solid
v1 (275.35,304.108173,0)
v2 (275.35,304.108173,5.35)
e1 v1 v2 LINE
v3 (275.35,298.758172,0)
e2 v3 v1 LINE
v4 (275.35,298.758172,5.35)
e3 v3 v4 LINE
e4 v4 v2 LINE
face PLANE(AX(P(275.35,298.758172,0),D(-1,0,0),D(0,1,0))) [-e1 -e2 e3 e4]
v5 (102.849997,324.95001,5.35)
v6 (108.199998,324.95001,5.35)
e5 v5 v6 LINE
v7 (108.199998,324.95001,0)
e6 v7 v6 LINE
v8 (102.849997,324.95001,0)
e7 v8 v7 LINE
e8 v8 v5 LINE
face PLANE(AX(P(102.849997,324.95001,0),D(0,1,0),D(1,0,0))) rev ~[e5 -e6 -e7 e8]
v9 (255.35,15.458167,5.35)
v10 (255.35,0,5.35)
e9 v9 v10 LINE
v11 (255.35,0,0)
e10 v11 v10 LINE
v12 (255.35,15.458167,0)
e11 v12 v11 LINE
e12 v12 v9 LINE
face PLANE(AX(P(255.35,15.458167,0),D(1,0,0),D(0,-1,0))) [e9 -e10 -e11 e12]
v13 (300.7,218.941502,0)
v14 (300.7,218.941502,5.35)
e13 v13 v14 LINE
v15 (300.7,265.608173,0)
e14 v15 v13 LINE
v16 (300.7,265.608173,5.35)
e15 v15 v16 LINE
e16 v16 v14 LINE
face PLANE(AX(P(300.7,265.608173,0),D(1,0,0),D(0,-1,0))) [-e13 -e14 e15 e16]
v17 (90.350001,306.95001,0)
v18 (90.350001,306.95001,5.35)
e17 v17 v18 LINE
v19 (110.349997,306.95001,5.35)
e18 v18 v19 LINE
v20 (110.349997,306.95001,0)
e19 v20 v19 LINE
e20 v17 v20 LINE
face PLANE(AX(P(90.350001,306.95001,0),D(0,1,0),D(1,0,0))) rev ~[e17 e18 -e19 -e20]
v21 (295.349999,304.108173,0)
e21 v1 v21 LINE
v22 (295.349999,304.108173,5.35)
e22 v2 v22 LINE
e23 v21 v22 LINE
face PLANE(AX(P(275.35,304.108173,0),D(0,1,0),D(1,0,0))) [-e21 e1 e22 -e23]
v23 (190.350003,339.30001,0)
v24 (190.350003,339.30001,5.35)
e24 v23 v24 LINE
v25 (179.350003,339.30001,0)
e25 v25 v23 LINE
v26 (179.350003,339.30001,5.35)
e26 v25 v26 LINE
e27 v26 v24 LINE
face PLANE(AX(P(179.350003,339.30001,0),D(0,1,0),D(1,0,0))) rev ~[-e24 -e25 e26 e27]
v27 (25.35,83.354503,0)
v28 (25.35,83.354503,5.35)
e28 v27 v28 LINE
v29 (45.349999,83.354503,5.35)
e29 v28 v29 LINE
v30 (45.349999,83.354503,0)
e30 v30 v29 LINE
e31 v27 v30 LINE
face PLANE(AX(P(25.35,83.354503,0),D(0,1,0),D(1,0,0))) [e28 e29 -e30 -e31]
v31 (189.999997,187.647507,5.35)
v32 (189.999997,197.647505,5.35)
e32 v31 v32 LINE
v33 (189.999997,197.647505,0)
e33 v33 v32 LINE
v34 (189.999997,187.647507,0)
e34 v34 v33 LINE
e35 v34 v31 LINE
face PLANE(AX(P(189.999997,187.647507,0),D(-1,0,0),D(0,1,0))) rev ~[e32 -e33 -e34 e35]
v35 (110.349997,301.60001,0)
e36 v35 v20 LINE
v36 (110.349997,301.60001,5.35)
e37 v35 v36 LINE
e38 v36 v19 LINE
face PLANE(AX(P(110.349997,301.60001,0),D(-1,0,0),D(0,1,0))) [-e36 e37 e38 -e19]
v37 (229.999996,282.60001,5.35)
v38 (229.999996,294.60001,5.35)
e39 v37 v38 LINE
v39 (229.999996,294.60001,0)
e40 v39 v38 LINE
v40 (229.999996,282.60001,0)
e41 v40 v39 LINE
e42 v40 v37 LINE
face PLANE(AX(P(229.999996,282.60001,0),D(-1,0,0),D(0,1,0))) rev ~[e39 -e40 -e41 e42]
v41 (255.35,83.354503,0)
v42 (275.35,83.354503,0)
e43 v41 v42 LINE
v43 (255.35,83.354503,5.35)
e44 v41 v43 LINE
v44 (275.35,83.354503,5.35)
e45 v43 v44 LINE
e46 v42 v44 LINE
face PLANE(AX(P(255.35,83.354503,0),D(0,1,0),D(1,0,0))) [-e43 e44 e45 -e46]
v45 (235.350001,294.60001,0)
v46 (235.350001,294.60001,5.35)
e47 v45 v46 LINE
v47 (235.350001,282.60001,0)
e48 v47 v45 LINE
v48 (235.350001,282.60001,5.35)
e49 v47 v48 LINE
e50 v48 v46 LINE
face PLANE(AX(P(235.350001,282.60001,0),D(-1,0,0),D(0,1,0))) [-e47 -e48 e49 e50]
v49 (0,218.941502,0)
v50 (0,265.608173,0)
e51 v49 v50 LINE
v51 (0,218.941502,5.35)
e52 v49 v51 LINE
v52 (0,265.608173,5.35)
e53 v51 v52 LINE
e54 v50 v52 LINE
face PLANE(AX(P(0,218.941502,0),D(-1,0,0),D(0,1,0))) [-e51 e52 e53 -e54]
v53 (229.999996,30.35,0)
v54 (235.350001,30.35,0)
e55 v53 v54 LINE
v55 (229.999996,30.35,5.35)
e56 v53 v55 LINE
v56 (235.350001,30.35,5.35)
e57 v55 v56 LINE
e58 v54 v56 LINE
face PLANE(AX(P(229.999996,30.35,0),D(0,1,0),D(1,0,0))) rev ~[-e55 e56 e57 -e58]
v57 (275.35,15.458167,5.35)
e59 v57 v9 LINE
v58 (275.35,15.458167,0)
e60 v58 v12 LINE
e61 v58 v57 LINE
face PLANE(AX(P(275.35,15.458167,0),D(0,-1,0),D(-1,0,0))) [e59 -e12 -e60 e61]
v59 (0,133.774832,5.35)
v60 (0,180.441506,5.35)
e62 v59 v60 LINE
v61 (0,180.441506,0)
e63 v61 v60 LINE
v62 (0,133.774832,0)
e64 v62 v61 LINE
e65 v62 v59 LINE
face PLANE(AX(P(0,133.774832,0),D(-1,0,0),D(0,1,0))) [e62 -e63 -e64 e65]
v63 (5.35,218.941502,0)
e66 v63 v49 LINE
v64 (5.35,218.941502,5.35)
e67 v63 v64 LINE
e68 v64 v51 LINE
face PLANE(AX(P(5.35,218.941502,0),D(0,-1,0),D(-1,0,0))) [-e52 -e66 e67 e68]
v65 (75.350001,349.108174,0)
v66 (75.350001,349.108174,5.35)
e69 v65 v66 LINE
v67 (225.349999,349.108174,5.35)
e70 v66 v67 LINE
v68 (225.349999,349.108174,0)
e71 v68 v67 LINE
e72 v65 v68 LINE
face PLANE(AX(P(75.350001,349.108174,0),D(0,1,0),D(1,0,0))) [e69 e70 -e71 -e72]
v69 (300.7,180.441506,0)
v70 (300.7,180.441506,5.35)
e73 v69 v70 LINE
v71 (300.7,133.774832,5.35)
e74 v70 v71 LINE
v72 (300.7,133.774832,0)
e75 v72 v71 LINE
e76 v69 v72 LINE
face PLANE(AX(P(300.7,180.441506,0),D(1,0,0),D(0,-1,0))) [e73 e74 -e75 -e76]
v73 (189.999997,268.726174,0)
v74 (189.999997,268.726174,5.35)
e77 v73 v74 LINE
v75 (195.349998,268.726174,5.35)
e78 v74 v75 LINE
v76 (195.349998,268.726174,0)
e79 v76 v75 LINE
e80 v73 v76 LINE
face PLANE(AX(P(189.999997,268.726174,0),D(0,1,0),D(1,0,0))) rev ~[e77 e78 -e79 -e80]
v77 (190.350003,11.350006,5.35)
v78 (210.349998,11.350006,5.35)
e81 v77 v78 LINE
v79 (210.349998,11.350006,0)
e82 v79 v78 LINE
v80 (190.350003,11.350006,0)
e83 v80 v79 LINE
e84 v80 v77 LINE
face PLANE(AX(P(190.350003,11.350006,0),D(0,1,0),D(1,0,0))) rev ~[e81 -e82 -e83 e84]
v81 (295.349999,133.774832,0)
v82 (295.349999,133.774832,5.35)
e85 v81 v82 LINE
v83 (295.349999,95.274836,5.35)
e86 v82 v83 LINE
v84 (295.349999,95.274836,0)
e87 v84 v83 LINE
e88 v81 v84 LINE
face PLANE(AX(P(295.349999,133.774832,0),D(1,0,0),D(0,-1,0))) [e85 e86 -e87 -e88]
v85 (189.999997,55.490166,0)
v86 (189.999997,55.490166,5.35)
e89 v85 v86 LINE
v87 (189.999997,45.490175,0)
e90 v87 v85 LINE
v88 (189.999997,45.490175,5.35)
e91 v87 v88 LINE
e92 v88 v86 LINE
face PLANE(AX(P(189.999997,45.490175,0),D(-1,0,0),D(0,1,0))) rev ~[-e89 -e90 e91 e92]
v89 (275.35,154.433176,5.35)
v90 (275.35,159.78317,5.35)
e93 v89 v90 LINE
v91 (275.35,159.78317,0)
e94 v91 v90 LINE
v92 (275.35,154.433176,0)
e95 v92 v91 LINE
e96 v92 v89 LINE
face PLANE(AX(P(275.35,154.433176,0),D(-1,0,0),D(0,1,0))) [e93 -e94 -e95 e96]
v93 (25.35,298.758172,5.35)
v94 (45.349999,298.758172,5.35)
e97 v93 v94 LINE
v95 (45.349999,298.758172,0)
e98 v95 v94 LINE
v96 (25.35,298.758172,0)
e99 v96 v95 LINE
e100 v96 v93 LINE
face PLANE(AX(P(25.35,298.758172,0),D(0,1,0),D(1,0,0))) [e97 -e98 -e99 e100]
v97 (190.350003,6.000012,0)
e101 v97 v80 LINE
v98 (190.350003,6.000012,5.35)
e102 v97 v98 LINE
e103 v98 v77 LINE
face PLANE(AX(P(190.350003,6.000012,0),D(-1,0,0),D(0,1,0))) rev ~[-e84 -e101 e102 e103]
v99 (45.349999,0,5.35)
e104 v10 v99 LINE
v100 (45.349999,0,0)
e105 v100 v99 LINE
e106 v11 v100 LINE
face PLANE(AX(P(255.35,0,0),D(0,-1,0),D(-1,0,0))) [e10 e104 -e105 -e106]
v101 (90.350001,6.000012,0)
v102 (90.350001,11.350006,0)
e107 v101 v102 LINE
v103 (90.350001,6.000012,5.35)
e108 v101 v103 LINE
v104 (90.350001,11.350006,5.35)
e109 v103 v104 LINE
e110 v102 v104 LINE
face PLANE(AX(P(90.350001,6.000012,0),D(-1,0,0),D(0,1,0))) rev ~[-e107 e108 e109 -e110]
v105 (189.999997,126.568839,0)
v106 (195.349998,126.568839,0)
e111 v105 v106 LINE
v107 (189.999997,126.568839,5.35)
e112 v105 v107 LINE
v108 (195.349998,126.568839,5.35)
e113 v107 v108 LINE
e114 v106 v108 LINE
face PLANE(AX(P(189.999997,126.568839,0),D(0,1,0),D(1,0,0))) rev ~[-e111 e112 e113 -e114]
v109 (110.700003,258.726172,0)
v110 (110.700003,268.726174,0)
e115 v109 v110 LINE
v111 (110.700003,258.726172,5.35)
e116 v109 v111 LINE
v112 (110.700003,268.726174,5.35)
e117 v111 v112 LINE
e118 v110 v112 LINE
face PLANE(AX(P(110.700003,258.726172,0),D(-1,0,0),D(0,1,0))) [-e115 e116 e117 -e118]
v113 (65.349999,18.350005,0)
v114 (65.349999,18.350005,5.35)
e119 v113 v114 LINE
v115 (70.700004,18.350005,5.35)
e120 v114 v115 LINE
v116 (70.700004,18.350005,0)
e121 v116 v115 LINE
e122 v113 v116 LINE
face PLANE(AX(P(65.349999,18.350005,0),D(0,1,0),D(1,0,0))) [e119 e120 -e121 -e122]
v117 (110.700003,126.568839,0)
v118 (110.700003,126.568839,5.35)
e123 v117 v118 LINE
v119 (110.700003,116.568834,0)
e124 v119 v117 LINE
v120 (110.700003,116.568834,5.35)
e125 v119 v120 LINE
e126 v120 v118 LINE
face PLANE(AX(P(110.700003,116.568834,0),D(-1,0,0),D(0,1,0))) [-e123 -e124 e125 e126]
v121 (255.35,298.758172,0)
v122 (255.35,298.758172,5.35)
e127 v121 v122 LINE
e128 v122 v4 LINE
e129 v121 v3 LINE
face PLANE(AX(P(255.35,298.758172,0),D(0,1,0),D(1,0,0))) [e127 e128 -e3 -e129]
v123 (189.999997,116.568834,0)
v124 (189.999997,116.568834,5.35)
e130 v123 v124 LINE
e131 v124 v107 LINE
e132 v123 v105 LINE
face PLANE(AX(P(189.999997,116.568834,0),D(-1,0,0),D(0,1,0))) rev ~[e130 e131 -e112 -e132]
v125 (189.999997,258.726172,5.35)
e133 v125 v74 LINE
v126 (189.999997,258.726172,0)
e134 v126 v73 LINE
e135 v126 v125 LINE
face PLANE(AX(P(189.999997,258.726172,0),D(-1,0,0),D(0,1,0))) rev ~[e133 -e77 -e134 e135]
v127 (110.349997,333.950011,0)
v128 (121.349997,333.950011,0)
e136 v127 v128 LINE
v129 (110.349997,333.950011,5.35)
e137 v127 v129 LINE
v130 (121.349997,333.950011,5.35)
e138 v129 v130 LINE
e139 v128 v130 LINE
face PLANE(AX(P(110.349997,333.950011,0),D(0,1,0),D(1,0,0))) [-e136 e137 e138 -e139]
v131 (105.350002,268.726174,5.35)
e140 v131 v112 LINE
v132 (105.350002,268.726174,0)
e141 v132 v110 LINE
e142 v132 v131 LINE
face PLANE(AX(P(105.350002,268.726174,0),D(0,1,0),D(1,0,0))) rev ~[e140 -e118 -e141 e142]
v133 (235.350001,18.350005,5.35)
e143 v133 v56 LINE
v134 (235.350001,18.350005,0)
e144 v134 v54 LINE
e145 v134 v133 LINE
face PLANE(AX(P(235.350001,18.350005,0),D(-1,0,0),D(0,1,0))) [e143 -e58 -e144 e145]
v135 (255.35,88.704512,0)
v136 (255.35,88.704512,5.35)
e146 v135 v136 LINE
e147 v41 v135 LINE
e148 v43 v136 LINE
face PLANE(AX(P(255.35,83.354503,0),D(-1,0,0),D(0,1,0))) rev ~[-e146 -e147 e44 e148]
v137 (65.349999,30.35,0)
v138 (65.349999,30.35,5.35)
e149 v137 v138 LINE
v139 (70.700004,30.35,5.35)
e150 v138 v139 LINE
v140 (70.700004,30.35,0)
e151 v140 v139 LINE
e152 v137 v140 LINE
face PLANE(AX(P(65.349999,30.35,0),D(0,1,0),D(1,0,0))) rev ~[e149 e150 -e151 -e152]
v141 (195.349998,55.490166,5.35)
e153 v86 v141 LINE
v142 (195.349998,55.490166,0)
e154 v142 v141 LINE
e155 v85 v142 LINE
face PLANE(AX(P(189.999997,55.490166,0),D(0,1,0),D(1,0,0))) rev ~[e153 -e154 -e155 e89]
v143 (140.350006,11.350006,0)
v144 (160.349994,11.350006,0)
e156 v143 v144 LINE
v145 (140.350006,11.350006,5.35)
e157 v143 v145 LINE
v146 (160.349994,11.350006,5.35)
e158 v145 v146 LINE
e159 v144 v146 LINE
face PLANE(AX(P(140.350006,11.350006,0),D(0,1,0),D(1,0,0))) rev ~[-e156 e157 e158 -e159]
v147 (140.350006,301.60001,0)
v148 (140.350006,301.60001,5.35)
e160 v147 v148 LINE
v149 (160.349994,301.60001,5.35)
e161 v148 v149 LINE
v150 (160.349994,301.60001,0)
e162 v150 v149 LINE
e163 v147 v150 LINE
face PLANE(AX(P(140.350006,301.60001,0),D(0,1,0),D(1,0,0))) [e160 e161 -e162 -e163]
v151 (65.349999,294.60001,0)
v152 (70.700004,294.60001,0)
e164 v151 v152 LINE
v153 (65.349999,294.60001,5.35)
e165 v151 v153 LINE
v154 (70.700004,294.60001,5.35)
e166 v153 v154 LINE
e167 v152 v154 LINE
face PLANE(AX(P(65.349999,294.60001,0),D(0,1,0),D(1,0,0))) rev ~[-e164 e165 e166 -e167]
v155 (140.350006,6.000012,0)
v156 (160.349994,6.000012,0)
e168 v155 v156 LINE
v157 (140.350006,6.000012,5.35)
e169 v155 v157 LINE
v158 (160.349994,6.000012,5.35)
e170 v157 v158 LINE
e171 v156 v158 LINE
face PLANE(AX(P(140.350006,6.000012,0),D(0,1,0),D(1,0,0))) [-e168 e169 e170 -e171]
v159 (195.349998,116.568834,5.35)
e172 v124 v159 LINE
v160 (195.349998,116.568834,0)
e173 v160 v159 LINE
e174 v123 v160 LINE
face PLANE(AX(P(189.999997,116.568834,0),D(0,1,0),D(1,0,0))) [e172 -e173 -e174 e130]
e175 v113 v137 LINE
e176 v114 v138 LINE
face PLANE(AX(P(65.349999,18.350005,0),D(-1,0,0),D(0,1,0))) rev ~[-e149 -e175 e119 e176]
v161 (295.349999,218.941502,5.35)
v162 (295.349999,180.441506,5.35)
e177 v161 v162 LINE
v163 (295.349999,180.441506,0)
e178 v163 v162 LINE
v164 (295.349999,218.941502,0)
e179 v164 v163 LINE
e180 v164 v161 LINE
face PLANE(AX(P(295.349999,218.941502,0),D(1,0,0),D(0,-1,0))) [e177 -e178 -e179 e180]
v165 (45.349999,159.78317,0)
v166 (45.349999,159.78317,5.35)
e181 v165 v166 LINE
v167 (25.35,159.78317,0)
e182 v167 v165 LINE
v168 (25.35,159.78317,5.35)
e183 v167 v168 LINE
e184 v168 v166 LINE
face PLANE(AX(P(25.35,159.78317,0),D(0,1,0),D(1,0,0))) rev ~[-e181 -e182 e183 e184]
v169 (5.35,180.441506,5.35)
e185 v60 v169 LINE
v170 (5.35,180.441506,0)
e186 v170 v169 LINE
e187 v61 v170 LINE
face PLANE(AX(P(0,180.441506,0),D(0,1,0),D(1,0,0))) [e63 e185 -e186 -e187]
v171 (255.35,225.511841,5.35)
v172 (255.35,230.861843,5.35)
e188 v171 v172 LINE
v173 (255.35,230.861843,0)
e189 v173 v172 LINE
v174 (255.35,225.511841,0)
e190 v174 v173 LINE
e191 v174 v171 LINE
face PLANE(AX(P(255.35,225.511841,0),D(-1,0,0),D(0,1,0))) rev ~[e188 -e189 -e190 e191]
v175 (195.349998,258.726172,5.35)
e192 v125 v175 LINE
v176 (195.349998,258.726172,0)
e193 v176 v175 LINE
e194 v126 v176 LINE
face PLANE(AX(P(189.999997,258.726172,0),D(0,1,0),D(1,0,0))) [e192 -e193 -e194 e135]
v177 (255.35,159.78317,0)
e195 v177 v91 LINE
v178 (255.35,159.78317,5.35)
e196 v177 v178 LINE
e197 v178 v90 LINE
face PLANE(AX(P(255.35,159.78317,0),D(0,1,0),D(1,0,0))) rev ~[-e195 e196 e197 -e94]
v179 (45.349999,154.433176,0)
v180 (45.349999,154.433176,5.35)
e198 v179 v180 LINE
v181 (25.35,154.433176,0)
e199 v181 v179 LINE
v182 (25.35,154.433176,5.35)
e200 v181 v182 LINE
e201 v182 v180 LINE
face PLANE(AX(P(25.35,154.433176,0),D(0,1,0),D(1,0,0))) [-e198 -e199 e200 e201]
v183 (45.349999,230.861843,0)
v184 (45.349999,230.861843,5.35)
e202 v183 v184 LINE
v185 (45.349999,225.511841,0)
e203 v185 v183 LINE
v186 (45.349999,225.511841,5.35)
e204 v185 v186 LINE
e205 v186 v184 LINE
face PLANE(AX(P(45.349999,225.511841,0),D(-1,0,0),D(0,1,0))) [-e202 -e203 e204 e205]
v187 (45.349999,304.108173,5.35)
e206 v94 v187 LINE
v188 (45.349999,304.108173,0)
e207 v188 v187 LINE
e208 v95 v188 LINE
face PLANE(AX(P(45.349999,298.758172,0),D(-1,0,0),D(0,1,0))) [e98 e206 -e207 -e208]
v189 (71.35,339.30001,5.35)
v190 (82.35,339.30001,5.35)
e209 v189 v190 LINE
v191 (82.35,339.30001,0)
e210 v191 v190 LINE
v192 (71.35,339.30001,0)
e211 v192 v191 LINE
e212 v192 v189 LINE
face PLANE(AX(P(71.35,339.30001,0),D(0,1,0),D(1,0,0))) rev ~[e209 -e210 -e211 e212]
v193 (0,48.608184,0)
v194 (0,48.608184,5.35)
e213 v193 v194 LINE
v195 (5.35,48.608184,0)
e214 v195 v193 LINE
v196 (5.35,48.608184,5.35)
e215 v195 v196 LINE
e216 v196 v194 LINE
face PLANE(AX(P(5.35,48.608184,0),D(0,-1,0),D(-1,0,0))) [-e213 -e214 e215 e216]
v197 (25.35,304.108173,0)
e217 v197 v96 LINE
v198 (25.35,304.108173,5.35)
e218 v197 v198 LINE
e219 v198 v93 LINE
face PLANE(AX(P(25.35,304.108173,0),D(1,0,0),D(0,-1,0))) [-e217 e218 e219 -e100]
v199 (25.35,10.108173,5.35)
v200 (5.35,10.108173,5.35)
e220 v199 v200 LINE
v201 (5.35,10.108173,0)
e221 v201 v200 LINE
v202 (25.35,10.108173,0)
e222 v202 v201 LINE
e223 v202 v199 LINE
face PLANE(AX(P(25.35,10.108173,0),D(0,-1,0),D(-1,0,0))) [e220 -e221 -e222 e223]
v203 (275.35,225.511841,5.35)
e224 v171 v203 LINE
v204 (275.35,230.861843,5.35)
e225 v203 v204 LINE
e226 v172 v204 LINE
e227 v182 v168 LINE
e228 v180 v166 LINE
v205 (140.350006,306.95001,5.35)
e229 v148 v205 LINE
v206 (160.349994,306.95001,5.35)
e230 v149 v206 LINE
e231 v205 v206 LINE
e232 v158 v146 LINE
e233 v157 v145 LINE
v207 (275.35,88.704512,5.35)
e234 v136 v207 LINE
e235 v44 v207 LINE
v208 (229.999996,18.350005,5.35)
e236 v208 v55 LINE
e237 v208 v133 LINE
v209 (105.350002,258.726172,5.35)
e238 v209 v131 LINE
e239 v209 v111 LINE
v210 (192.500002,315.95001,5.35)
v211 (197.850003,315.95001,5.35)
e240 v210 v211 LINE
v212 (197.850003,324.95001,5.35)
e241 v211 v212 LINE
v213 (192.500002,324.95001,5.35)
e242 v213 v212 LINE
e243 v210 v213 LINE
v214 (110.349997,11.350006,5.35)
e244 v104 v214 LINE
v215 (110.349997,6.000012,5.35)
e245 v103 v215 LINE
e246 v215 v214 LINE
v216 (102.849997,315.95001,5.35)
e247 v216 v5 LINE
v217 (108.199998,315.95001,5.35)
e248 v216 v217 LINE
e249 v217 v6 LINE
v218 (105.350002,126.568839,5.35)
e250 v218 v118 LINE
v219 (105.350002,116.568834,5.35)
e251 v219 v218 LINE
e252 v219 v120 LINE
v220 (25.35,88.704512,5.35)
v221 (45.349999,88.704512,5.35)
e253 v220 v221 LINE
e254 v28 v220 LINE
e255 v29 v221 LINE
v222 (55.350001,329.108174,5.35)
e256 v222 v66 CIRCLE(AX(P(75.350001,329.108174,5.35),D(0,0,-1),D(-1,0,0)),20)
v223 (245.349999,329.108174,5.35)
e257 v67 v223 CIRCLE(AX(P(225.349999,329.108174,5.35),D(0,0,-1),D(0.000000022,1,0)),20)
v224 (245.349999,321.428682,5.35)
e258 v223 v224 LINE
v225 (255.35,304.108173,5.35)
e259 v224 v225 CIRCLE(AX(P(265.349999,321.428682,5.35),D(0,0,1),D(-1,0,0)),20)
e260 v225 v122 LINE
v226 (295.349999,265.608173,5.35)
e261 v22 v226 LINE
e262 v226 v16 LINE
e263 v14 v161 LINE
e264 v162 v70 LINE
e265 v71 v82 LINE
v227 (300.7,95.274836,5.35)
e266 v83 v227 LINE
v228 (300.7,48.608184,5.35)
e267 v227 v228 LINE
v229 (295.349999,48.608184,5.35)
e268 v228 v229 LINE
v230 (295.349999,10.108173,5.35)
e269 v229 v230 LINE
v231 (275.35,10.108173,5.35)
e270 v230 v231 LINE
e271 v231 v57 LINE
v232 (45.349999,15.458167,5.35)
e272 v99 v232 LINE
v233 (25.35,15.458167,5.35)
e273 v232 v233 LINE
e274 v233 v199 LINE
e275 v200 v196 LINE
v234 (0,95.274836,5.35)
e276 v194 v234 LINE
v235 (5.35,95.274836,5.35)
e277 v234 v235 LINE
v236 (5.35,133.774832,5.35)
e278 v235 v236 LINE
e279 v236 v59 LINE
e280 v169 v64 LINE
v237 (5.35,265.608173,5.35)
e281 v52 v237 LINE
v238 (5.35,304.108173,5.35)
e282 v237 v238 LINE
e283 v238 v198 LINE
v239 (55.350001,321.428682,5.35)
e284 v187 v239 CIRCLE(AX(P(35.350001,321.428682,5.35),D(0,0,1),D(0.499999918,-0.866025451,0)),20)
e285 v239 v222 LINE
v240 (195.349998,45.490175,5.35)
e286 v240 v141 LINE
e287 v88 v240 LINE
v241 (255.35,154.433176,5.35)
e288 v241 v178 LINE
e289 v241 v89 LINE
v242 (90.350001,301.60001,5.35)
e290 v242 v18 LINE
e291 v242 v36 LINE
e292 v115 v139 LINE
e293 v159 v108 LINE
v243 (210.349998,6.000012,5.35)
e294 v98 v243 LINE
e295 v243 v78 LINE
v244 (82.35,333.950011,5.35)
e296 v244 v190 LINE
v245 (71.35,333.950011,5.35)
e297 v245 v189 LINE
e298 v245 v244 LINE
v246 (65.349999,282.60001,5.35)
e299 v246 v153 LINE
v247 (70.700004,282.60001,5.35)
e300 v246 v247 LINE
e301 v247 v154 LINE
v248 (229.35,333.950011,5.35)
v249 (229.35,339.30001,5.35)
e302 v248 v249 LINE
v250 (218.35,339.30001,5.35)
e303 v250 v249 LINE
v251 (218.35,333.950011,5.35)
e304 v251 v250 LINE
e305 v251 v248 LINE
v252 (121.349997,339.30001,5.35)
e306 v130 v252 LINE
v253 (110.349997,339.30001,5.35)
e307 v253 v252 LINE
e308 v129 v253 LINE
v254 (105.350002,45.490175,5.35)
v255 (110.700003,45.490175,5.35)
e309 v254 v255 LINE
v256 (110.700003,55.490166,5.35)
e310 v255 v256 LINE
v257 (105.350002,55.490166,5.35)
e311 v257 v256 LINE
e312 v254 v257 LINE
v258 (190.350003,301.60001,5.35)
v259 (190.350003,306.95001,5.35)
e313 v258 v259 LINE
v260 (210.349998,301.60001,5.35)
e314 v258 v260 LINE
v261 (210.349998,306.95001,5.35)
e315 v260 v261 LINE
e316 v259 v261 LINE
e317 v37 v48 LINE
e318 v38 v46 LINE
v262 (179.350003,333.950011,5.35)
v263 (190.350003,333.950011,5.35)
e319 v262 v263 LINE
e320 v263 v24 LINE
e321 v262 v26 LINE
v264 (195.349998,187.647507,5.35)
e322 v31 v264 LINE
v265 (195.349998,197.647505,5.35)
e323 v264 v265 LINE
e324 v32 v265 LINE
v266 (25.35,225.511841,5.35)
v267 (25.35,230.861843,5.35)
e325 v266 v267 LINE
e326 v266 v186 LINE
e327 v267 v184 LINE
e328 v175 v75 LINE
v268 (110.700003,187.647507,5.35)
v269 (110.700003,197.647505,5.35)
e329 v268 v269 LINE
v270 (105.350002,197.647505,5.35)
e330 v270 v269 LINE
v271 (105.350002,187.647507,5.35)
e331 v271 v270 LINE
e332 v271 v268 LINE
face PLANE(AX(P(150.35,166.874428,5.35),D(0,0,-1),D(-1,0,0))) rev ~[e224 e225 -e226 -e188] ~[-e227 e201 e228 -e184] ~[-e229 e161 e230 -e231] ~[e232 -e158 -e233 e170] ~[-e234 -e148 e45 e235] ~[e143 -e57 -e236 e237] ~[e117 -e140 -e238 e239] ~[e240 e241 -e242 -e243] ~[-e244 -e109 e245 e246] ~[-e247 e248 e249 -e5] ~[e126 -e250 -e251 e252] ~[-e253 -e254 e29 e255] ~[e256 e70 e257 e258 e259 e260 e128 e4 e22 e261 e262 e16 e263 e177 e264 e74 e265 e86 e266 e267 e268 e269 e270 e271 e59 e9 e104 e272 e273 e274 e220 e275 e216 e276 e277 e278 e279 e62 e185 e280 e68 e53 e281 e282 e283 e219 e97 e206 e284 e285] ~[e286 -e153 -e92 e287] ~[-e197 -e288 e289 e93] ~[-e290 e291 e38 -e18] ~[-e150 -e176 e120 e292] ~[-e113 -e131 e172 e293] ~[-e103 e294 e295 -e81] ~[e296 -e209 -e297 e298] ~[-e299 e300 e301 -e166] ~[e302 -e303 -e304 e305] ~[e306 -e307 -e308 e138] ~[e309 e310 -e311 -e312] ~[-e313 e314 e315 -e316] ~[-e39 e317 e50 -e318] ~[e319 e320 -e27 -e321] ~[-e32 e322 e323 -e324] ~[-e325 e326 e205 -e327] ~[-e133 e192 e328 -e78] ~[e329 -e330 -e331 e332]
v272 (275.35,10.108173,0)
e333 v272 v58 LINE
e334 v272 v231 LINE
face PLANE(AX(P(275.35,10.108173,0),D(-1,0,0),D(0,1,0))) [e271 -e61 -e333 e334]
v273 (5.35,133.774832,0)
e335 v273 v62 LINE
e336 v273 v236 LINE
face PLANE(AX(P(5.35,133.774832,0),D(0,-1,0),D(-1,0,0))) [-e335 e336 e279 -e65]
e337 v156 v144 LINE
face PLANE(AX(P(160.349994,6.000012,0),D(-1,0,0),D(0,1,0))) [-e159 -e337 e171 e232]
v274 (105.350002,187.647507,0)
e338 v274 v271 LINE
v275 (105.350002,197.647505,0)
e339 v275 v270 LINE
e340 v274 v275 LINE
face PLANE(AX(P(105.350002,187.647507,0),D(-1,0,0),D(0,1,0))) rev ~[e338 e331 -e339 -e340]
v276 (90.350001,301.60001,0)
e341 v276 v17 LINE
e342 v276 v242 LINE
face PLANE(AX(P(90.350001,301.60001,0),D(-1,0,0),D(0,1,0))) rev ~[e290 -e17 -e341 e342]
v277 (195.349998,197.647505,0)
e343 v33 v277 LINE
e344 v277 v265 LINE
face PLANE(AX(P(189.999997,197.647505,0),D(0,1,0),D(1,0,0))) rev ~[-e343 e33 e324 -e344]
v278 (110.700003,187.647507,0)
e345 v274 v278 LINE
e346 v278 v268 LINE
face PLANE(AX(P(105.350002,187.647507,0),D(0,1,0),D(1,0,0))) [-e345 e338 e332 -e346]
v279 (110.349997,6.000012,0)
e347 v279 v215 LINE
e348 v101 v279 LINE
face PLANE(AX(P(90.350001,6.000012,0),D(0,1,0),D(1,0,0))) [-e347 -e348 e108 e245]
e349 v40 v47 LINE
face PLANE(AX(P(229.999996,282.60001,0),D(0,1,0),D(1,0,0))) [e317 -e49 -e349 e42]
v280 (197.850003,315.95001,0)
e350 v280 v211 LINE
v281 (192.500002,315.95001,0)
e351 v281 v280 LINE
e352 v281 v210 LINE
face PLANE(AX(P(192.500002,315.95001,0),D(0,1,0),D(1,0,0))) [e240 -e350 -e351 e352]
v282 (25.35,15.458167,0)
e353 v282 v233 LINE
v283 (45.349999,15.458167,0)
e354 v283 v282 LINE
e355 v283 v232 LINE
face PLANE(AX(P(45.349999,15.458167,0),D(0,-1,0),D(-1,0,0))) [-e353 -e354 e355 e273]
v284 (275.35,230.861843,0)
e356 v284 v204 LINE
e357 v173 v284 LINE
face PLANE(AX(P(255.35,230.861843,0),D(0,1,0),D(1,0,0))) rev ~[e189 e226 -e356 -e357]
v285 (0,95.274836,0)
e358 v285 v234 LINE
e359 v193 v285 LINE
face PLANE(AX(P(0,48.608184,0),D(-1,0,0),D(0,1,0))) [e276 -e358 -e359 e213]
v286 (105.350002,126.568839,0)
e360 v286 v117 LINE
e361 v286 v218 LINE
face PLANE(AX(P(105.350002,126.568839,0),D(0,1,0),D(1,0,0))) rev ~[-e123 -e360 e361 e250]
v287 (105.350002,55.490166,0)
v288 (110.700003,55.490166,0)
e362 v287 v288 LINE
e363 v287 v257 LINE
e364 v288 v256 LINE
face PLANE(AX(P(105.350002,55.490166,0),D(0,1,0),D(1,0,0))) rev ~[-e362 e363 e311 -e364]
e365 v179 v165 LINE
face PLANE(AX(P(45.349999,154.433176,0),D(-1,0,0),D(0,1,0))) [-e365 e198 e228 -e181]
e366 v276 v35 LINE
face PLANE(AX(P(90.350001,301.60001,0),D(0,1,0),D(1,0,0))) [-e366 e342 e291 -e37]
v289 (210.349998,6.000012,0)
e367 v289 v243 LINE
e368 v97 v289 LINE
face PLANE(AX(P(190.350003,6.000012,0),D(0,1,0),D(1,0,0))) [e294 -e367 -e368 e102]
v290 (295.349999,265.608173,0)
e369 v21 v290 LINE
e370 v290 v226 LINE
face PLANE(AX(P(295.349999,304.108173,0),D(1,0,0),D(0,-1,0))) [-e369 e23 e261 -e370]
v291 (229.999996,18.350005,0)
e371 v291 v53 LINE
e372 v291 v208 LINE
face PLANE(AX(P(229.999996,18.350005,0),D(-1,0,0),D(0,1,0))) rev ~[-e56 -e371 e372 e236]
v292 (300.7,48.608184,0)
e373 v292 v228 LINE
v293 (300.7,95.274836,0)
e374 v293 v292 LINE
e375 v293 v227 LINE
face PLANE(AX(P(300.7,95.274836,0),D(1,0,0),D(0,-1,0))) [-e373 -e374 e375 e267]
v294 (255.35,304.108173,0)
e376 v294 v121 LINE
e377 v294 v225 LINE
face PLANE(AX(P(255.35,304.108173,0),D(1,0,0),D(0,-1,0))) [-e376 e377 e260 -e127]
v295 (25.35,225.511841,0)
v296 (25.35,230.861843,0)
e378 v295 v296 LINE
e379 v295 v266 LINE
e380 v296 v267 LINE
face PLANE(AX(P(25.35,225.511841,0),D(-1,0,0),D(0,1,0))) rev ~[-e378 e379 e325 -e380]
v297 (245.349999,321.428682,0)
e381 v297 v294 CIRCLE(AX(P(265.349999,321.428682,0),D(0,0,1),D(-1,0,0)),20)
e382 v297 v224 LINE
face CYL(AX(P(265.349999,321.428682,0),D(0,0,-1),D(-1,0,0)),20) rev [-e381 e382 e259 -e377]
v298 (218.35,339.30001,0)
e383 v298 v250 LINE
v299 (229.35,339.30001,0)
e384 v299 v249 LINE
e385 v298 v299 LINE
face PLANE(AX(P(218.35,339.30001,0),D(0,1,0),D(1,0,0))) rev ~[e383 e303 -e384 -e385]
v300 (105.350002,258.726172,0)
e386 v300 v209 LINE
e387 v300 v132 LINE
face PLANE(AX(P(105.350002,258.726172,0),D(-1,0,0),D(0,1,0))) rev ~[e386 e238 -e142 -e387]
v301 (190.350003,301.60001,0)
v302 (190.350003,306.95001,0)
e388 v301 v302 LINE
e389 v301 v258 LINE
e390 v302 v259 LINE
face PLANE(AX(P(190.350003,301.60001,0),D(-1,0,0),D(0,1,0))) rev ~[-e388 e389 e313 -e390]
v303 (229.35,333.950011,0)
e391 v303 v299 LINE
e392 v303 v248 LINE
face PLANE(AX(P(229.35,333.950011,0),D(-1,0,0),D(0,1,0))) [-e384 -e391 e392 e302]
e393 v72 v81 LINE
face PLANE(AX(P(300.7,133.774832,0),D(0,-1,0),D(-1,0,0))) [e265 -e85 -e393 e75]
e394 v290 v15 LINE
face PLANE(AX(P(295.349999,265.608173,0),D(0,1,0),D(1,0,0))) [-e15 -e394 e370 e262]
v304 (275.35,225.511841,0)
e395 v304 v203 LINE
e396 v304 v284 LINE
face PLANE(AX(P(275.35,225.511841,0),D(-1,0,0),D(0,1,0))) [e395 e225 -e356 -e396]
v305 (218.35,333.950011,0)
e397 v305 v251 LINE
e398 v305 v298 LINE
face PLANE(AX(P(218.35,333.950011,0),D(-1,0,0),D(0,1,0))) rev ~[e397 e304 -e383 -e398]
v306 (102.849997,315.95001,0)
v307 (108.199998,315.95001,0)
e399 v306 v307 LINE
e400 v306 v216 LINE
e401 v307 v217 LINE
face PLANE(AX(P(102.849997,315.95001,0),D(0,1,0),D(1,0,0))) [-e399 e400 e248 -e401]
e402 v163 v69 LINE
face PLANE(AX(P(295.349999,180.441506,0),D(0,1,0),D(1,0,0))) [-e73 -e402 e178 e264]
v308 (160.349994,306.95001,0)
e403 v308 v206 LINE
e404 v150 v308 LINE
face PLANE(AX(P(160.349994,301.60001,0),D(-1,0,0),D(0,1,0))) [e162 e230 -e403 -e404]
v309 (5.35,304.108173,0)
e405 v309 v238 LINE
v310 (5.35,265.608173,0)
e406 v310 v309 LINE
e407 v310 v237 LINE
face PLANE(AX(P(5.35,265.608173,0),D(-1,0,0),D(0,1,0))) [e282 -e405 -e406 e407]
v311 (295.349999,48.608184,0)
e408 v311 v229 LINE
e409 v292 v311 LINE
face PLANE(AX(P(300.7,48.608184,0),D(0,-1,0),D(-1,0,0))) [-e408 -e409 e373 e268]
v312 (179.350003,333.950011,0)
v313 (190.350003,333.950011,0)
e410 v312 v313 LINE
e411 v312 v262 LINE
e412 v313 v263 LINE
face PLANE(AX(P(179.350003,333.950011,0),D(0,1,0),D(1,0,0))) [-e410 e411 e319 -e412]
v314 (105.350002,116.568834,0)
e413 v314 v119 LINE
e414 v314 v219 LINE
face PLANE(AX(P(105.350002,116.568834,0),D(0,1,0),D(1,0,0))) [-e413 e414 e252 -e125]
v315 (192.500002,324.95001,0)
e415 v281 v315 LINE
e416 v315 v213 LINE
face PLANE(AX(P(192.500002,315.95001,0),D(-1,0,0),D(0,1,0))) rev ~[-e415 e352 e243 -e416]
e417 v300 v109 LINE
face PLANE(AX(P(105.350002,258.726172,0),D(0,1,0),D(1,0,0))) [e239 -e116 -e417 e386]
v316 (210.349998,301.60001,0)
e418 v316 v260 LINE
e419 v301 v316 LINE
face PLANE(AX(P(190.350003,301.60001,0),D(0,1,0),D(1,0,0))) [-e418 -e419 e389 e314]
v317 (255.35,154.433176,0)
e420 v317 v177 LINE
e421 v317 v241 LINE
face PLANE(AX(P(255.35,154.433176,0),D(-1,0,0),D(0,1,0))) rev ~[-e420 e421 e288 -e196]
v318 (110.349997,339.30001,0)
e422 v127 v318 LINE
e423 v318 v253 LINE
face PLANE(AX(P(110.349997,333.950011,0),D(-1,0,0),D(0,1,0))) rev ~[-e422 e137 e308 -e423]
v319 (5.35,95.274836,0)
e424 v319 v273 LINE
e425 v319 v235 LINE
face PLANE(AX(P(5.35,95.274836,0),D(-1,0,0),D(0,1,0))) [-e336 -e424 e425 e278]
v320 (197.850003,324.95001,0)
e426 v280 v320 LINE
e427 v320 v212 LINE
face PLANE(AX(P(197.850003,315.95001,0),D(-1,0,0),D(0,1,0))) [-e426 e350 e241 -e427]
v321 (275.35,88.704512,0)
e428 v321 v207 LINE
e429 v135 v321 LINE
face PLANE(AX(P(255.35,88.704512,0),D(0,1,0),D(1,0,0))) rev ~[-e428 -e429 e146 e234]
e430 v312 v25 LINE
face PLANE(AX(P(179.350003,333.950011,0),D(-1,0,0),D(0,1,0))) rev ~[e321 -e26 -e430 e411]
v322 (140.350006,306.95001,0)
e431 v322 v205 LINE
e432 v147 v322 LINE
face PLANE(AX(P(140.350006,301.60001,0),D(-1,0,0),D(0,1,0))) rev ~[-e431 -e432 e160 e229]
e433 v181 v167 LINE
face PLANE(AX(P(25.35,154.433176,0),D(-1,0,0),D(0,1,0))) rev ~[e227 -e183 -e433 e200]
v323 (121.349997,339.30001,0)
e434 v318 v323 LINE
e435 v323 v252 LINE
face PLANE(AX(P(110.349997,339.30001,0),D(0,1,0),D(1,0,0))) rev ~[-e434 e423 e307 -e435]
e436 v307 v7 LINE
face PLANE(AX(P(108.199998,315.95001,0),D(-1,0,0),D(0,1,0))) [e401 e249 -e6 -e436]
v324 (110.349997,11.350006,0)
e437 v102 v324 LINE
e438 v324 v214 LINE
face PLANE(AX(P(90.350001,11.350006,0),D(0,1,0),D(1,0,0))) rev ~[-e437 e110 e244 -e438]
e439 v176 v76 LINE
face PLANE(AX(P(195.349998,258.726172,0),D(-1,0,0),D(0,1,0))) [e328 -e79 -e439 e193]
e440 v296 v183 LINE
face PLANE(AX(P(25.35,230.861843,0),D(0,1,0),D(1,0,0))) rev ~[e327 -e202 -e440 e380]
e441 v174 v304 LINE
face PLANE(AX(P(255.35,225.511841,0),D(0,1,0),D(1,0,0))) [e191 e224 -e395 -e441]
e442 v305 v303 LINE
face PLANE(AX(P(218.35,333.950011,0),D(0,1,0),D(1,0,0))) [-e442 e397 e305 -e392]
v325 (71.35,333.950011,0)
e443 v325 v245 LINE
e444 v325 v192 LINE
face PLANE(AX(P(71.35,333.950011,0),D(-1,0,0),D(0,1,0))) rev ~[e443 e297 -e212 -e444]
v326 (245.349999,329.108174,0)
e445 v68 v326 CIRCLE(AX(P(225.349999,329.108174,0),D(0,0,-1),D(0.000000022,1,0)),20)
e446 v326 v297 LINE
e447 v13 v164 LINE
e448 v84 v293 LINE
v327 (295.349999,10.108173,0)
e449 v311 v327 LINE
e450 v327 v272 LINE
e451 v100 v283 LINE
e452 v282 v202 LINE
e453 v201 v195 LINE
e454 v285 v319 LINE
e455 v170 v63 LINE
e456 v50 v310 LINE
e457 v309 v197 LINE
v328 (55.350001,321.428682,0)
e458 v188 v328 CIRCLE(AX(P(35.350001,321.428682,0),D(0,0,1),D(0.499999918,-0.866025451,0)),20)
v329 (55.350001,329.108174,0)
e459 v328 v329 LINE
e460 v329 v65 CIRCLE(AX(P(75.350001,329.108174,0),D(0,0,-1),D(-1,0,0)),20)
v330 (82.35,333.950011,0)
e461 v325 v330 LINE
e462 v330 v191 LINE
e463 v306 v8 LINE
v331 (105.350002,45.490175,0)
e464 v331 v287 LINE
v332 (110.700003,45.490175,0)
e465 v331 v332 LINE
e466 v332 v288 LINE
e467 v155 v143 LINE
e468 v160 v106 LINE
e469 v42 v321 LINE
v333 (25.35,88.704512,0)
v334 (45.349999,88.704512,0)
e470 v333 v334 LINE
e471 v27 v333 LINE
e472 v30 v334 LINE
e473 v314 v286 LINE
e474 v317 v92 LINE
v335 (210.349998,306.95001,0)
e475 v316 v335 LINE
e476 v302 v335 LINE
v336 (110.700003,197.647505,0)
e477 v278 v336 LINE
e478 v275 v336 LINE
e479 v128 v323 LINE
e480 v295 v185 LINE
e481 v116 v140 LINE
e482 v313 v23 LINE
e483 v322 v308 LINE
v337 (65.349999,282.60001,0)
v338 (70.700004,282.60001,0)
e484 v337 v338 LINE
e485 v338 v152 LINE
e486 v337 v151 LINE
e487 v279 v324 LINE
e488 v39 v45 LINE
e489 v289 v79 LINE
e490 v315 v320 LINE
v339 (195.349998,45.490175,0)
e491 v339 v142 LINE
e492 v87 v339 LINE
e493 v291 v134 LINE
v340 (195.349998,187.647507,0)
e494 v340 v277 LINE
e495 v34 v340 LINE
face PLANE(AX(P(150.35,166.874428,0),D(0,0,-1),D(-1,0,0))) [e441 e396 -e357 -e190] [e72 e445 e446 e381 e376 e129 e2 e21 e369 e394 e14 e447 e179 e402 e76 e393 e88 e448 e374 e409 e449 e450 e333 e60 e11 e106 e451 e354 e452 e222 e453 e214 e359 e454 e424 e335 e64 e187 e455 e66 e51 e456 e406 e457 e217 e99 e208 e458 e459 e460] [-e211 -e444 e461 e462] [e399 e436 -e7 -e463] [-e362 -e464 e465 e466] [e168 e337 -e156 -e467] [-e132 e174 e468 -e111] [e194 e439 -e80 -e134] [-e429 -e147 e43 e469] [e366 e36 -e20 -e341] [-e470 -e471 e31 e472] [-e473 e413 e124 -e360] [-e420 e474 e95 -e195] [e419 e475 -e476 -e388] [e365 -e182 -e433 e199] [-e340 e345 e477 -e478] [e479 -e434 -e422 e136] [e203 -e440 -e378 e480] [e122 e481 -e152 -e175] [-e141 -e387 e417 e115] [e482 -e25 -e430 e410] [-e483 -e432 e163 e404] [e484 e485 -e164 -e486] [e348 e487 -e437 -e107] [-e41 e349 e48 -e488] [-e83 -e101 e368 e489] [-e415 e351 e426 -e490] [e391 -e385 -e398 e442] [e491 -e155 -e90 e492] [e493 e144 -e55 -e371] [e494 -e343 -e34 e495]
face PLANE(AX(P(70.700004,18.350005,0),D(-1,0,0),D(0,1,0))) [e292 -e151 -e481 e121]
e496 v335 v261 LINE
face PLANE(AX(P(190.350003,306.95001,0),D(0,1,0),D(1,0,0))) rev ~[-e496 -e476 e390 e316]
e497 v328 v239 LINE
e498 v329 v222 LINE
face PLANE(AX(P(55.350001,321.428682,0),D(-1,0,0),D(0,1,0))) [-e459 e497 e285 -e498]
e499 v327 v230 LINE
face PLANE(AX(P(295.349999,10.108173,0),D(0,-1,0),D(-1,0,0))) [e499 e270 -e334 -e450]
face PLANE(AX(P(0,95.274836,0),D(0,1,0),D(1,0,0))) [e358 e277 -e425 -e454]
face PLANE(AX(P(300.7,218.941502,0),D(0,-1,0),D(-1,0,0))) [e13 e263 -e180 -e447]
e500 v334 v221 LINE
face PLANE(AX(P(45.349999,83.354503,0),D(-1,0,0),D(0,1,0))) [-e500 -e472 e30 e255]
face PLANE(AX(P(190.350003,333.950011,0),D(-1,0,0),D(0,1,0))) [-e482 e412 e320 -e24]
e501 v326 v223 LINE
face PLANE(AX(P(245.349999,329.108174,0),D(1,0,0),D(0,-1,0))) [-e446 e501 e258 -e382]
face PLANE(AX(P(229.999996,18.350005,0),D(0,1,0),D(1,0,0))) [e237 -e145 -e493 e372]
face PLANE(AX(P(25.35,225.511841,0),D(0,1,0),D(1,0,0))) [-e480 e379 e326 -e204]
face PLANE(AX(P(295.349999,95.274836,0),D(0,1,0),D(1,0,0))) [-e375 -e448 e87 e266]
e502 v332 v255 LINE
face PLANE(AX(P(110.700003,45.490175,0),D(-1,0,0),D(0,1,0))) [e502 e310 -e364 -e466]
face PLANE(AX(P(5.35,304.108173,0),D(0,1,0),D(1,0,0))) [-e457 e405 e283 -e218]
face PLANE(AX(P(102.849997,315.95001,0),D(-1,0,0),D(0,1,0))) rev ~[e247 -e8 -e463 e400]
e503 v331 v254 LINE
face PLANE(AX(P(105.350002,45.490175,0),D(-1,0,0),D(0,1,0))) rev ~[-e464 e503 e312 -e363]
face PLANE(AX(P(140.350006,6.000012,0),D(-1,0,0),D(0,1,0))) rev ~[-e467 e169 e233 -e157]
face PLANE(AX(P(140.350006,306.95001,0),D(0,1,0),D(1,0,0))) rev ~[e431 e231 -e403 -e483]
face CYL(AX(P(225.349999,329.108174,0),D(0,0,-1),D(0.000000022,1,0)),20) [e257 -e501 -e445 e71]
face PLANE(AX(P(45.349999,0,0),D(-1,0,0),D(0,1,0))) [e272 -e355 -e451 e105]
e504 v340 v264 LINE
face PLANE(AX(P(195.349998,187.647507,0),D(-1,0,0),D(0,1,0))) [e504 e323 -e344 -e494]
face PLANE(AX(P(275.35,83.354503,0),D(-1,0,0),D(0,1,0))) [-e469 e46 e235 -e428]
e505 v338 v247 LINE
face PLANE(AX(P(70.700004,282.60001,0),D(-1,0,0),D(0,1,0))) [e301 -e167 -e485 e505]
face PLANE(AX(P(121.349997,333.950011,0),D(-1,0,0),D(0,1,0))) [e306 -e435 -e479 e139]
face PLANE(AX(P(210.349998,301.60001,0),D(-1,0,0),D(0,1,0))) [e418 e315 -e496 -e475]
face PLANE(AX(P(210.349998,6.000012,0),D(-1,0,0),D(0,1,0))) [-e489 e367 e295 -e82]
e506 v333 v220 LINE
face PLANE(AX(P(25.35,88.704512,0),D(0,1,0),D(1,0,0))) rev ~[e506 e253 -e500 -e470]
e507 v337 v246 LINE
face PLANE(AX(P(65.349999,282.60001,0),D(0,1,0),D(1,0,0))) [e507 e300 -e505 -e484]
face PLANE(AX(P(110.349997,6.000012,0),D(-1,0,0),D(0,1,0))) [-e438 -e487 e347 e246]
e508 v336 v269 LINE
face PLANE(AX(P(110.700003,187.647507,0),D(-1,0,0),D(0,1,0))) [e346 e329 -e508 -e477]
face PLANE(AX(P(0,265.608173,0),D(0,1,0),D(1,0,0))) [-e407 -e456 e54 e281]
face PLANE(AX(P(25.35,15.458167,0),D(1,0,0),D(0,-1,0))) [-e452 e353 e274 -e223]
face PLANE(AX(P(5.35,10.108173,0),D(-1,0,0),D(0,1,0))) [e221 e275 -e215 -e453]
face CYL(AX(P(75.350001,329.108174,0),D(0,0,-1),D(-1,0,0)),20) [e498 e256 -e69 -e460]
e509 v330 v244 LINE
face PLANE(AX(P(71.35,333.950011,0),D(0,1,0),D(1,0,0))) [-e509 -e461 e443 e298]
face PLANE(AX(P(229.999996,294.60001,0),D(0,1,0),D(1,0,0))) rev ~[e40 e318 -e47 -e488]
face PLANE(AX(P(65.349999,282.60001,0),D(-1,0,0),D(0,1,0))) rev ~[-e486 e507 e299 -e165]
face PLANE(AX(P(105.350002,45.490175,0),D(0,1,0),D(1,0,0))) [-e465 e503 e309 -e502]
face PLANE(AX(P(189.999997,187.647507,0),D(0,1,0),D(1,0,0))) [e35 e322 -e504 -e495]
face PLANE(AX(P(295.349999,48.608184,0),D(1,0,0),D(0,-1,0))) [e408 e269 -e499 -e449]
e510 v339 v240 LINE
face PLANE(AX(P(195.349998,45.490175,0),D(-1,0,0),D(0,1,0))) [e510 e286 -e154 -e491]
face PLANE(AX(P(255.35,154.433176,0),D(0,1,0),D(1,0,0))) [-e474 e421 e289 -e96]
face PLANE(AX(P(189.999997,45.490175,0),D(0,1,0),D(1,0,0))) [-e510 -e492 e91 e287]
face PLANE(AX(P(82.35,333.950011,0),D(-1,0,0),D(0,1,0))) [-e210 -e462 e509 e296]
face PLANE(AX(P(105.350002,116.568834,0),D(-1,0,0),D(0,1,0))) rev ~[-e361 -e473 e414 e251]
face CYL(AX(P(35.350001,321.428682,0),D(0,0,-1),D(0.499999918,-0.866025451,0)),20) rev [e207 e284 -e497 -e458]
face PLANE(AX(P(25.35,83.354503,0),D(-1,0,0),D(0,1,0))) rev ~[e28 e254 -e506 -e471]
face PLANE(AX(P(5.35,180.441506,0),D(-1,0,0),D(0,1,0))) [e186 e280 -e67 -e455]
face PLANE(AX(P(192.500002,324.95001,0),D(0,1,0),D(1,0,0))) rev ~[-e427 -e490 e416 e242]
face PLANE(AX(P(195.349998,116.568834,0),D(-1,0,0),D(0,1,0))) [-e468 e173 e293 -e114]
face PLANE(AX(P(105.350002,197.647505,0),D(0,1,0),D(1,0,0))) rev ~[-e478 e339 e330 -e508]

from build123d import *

# Parameters (mm, degrees)
MODEL_W             = 10.99999994
MODEL_H             = 5.349999293
MODEL_W_2           = 5.350001157
MODEL_H_2           = 10.000001639
MODEL_H_3           = 9.999997913
MODEL_H_4           = 10.000005364
MODEL_H_5           = 9.999990463
MODEL_W_3           = 19.999999553
MODEL_H_6           = 5.350001156
MODEL_H_7           = 5.349993706
MODEL_H_8           = 5.350008607
MODEL_W_4           = 5.350001156
MODEL_H_9           = 8.999999612
MODEL_W_5           = 5.350004882
MODEL_H_10          = 12.000000104
MODEL_W_6           = 19.999988377
MODEL_W_7           = 19.999995828
MODEL_H_11          = 5.349999992
MODEL_H_12          = 11.999994516
MODEL_W_8           = 10.999999941
BOSS_EXTRUDE1_DEPTH = 5.35


with BuildPart() as part:
    # Model → Boss-Extrude1 (new body)
    with BuildSketch(Plane.XY):
        with BuildLine():
            Line((295.349999331, 304.108172655), (295.349999331, 265.608172864))
            Line((295.349999331, 265.608172864), (300.699999556, 265.608172864))
            Line((300.699999556, 265.608172864), (300.699999556, 218.941502273))
            Line((300.699999556, 218.941502273), (295.349999331, 218.941502273))
            Line((295.349999331, 218.941502273), (295.349999331, 180.441506207))
            Line((295.349999331, 180.441506207), (300.699999556, 180.441506207))
            Line((300.699999556, 180.441506207), (300.699999556, 133.774831891))
            Line((300.699999556, 133.774831891), (295.349999331, 133.774831891))
            Line((295.349999331, 133.774831891), (295.349999331, 95.274835825))
            Line((295.349999331, 95.274835825), (300.699999556, 95.274835825))
            Line((300.699999556, 95.274835825), (300.699999556, 48.608183861))
            Line((300.699999556, 48.608183861), (295.349999331, 48.608183861))
            Line((295.349999331, 48.608183861), (295.349999331, 10.108172894))
            Line((295.349999331, 10.108172894), (275.349999778, 10.108172894))
            Line((275.349999778, 10.108172894), (275.349999778, 15.458166599))
            Line((275.349999778, 15.458166599), (255.350000225, 15.458166599))
            Line((255.350000225, 15.458166599), (255.350000225, 0))
            Line((255.350000225, 0), (45.349999331, 0))
            Line((45.349999331, 0), (45.349999331, 15.458166599))
            Line((45.349999331, 15.458166599), (25.349999778, 15.458166599))
            Line((25.349999778, 15.458166599), (25.349999778, 10.108172894))
            Line((25.349999778, 10.108172894), (5.350000225, 10.108172894))
            Line((5.350000225, 10.108172894), (5.350000225, 48.608183861))
            Line((5.350000225, 48.608183861), (0, 48.608183861))
            Line((0, 48.608183861), (0, 95.274835825))
            Line((0, 95.274835825), (5.350000225, 95.274835825))
            Line((5.350000225, 95.274835825), (5.350000225, 133.774831891))
            Line((5.350000225, 133.774831891), (0, 133.774831891))
            Line((0, 133.774831891), (0, 180.441506207))
            Line((0, 180.441506207), (5.350000225, 180.441506207))
            Line((5.350000225, 180.441506207), (5.350000225, 218.941502273))
            Line((5.350000225, 218.941502273), (0, 218.941502273))
            Line((0, 218.941502273), (0, 265.608172864))
            Line((0, 265.608172864), (5.350000225, 265.608172864))
            Line((5.350000225, 265.608172864), (5.350000225, 304.108172655))
            Line((5.350000225, 304.108172655), (25.349999778, 304.108172655))
            Line((25.349999778, 304.108172655), (25.349999778, 298.75817243))
            Line((25.349999778, 298.75817243), (45.349999331, 298.75817243))
            Line((45.349999331, 298.75817243), (45.349999331, 304.108172655))
            ThreePointArc((45.349999331, 304.108172655), (52.670508573, 311.428680858), (55.35000097, 321.428681677))
            Line((55.35000097, 321.428681677), (55.35000097, 329.108174443))
            ThreePointArc((55.35000097, 329.108174443), (61.207865188, 343.250309909), (75.350000523, 349.108174443))
            Line((75.350000523, 349.108174443), (225.349999033, 349.108174443))
            ThreePointArc((225.349999033, 349.108174443), (239.492134368, 343.250309909), (245.349998586, 329.108174443))
            Line((245.349998586, 329.108174443), (245.349998586, 321.428681677))
            ThreePointArc((245.349998586, 321.428681677), (248.029490983, 311.428680858), (255.350000225, 304.108172655))
            Line((255.350000225, 304.108172655), (255.350000225, 298.75817243))
            Line((255.350000225, 298.75817243), (275.349999778, 298.75817243))
            Line((275.349999778, 298.75817243), (275.349999778, 304.108172655))
            Line((275.349999778, 304.108172655), (295.349999331, 304.108172655))
        make_face()
        with Locations((223.849999718, 336.625010707)):
            Rectangle(MODEL_W, MODEL_H, mode=Mode.SUBTRACT)
        with Locations((184.850002639, 336.625010707)):
            Rectangle(MODEL_W, MODEL_H, mode=Mode.SUBTRACT)
        with Locations((108.025002294, 263.726172969)):
            Rectangle(MODEL_W_2, MODEL_H_2, mode=Mode.SUBTRACT)
        with Locations((108.025002294, 192.647505552)):
            Rectangle(MODEL_W_2, MODEL_H_3, mode=Mode.SUBTRACT)
        with Locations((108.025002294, 121.568836272)):
            Rectangle(MODEL_W_2, MODEL_H_4, mode=Mode.SUBTRACT)
        with Locations((108.025002294, 50.490170718)):
            Rectangle(MODEL_W_2, MODEL_H_5, mode=Mode.SUBTRACT)
        with Locations((35.349999555, 228.186842054)):
            Rectangle(MODEL_W_3, MODEL_H_6, mode=Mode.SUBTRACT)
        with Locations((35.349999555, 157.108172774)):
            Rectangle(MODEL_W_3, MODEL_H_7, mode=Mode.SUBTRACT)
        with Locations((35.349999555, 86.02950722)):
            Rectangle(MODEL_W_3, MODEL_H_8, mode=Mode.SUBTRACT)
        with Locations((105.524997227, 320.450009778)):
            Rectangle(MODEL_W_4, MODEL_H_9, mode=Mode.SUBTRACT)
        with Locations((68.025001325, 288.600009866)):
            Rectangle(MODEL_W_5, MODEL_H_10, mode=Mode.SUBTRACT)
        with Locations((150.349999777, 8.675009012)):
            Rectangle(MODEL_W_6, MODEL_H_7, mode=Mode.SUBTRACT)
        with Locations((200.350000523, 8.675009012)):
            Rectangle(MODEL_W_7, MODEL_H_7, mode=Mode.SUBTRACT)
        with Locations((100.349999033, 304.275010363)):
            Rectangle(MODEL_W_7, MODEL_H_11, mode=Mode.SUBTRACT)
        with Locations((150.349999777, 304.275010363)):
            Rectangle(MODEL_W_6, MODEL_H_11, mode=Mode.SUBTRACT)
        with Locations((232.674998231, 24.350002408)):
            Rectangle(MODEL_W_5, MODEL_H_12, mode=Mode.SUBTRACT)
        with Locations((68.025001325, 24.350002408)):
            Rectangle(MODEL_W_5, MODEL_H_12, mode=Mode.SUBTRACT)
        with Locations((100.349999033, 8.675009012)):
            Rectangle(MODEL_W_7, MODEL_H_7, mode=Mode.SUBTRACT)
        with Locations((200.350000523, 304.275010363)):
            Rectangle(MODEL_W_7, MODEL_H_11, mode=Mode.SUBTRACT)
        with Locations((232.674998231, 288.600009866)):
            Rectangle(MODEL_W_5, MODEL_H_10, mode=Mode.SUBTRACT)
        with Locations((115.849996917, 336.625010707)):
            Rectangle(MODEL_W, MODEL_H, mode=Mode.SUBTRACT)
        with Locations((76.849999838, 336.625010707)):
            Rectangle(MODEL_W_8, MODEL_H, mode=Mode.SUBTRACT)
        with Locations((195.175002329, 320.450009778)):
            Rectangle(MODEL_W_4, MODEL_H_9, mode=Mode.SUBTRACT)
        with Locations((265.350000002, 86.02950722)):
            Rectangle(MODEL_W_3, MODEL_H_8, mode=Mode.SUBTRACT)
        with Locations((265.350000002, 157.108172774)):
            Rectangle(MODEL_W_3, MODEL_H_7, mode=Mode.SUBTRACT)
        with Locations((265.350000002, 228.186842054)):
            Rectangle(MODEL_W_3, MODEL_H_6, mode=Mode.SUBTRACT)
        with Locations((192.674997263, 50.490170718)):
            Rectangle(MODEL_W_2, MODEL_H_5, mode=Mode.SUBTRACT)
        with Locations((192.674997263, 121.568836272)):
            Rectangle(MODEL_W_2, MODEL_H_4, mode=Mode.SUBTRACT)
        with Locations((192.674997263, 192.647505552)):
            Rectangle(MODEL_W_2, MODEL_H_3, mode=Mode.SUBTRACT)
        with Locations((192.674997263, 263.726172969)):
            Rectangle(MODEL_W_2, MODEL_H_2, mode=Mode.SUBTRACT)
    extrude(amount=BOSS_EXTRUDE1_DEPTH)


solid = part.part
